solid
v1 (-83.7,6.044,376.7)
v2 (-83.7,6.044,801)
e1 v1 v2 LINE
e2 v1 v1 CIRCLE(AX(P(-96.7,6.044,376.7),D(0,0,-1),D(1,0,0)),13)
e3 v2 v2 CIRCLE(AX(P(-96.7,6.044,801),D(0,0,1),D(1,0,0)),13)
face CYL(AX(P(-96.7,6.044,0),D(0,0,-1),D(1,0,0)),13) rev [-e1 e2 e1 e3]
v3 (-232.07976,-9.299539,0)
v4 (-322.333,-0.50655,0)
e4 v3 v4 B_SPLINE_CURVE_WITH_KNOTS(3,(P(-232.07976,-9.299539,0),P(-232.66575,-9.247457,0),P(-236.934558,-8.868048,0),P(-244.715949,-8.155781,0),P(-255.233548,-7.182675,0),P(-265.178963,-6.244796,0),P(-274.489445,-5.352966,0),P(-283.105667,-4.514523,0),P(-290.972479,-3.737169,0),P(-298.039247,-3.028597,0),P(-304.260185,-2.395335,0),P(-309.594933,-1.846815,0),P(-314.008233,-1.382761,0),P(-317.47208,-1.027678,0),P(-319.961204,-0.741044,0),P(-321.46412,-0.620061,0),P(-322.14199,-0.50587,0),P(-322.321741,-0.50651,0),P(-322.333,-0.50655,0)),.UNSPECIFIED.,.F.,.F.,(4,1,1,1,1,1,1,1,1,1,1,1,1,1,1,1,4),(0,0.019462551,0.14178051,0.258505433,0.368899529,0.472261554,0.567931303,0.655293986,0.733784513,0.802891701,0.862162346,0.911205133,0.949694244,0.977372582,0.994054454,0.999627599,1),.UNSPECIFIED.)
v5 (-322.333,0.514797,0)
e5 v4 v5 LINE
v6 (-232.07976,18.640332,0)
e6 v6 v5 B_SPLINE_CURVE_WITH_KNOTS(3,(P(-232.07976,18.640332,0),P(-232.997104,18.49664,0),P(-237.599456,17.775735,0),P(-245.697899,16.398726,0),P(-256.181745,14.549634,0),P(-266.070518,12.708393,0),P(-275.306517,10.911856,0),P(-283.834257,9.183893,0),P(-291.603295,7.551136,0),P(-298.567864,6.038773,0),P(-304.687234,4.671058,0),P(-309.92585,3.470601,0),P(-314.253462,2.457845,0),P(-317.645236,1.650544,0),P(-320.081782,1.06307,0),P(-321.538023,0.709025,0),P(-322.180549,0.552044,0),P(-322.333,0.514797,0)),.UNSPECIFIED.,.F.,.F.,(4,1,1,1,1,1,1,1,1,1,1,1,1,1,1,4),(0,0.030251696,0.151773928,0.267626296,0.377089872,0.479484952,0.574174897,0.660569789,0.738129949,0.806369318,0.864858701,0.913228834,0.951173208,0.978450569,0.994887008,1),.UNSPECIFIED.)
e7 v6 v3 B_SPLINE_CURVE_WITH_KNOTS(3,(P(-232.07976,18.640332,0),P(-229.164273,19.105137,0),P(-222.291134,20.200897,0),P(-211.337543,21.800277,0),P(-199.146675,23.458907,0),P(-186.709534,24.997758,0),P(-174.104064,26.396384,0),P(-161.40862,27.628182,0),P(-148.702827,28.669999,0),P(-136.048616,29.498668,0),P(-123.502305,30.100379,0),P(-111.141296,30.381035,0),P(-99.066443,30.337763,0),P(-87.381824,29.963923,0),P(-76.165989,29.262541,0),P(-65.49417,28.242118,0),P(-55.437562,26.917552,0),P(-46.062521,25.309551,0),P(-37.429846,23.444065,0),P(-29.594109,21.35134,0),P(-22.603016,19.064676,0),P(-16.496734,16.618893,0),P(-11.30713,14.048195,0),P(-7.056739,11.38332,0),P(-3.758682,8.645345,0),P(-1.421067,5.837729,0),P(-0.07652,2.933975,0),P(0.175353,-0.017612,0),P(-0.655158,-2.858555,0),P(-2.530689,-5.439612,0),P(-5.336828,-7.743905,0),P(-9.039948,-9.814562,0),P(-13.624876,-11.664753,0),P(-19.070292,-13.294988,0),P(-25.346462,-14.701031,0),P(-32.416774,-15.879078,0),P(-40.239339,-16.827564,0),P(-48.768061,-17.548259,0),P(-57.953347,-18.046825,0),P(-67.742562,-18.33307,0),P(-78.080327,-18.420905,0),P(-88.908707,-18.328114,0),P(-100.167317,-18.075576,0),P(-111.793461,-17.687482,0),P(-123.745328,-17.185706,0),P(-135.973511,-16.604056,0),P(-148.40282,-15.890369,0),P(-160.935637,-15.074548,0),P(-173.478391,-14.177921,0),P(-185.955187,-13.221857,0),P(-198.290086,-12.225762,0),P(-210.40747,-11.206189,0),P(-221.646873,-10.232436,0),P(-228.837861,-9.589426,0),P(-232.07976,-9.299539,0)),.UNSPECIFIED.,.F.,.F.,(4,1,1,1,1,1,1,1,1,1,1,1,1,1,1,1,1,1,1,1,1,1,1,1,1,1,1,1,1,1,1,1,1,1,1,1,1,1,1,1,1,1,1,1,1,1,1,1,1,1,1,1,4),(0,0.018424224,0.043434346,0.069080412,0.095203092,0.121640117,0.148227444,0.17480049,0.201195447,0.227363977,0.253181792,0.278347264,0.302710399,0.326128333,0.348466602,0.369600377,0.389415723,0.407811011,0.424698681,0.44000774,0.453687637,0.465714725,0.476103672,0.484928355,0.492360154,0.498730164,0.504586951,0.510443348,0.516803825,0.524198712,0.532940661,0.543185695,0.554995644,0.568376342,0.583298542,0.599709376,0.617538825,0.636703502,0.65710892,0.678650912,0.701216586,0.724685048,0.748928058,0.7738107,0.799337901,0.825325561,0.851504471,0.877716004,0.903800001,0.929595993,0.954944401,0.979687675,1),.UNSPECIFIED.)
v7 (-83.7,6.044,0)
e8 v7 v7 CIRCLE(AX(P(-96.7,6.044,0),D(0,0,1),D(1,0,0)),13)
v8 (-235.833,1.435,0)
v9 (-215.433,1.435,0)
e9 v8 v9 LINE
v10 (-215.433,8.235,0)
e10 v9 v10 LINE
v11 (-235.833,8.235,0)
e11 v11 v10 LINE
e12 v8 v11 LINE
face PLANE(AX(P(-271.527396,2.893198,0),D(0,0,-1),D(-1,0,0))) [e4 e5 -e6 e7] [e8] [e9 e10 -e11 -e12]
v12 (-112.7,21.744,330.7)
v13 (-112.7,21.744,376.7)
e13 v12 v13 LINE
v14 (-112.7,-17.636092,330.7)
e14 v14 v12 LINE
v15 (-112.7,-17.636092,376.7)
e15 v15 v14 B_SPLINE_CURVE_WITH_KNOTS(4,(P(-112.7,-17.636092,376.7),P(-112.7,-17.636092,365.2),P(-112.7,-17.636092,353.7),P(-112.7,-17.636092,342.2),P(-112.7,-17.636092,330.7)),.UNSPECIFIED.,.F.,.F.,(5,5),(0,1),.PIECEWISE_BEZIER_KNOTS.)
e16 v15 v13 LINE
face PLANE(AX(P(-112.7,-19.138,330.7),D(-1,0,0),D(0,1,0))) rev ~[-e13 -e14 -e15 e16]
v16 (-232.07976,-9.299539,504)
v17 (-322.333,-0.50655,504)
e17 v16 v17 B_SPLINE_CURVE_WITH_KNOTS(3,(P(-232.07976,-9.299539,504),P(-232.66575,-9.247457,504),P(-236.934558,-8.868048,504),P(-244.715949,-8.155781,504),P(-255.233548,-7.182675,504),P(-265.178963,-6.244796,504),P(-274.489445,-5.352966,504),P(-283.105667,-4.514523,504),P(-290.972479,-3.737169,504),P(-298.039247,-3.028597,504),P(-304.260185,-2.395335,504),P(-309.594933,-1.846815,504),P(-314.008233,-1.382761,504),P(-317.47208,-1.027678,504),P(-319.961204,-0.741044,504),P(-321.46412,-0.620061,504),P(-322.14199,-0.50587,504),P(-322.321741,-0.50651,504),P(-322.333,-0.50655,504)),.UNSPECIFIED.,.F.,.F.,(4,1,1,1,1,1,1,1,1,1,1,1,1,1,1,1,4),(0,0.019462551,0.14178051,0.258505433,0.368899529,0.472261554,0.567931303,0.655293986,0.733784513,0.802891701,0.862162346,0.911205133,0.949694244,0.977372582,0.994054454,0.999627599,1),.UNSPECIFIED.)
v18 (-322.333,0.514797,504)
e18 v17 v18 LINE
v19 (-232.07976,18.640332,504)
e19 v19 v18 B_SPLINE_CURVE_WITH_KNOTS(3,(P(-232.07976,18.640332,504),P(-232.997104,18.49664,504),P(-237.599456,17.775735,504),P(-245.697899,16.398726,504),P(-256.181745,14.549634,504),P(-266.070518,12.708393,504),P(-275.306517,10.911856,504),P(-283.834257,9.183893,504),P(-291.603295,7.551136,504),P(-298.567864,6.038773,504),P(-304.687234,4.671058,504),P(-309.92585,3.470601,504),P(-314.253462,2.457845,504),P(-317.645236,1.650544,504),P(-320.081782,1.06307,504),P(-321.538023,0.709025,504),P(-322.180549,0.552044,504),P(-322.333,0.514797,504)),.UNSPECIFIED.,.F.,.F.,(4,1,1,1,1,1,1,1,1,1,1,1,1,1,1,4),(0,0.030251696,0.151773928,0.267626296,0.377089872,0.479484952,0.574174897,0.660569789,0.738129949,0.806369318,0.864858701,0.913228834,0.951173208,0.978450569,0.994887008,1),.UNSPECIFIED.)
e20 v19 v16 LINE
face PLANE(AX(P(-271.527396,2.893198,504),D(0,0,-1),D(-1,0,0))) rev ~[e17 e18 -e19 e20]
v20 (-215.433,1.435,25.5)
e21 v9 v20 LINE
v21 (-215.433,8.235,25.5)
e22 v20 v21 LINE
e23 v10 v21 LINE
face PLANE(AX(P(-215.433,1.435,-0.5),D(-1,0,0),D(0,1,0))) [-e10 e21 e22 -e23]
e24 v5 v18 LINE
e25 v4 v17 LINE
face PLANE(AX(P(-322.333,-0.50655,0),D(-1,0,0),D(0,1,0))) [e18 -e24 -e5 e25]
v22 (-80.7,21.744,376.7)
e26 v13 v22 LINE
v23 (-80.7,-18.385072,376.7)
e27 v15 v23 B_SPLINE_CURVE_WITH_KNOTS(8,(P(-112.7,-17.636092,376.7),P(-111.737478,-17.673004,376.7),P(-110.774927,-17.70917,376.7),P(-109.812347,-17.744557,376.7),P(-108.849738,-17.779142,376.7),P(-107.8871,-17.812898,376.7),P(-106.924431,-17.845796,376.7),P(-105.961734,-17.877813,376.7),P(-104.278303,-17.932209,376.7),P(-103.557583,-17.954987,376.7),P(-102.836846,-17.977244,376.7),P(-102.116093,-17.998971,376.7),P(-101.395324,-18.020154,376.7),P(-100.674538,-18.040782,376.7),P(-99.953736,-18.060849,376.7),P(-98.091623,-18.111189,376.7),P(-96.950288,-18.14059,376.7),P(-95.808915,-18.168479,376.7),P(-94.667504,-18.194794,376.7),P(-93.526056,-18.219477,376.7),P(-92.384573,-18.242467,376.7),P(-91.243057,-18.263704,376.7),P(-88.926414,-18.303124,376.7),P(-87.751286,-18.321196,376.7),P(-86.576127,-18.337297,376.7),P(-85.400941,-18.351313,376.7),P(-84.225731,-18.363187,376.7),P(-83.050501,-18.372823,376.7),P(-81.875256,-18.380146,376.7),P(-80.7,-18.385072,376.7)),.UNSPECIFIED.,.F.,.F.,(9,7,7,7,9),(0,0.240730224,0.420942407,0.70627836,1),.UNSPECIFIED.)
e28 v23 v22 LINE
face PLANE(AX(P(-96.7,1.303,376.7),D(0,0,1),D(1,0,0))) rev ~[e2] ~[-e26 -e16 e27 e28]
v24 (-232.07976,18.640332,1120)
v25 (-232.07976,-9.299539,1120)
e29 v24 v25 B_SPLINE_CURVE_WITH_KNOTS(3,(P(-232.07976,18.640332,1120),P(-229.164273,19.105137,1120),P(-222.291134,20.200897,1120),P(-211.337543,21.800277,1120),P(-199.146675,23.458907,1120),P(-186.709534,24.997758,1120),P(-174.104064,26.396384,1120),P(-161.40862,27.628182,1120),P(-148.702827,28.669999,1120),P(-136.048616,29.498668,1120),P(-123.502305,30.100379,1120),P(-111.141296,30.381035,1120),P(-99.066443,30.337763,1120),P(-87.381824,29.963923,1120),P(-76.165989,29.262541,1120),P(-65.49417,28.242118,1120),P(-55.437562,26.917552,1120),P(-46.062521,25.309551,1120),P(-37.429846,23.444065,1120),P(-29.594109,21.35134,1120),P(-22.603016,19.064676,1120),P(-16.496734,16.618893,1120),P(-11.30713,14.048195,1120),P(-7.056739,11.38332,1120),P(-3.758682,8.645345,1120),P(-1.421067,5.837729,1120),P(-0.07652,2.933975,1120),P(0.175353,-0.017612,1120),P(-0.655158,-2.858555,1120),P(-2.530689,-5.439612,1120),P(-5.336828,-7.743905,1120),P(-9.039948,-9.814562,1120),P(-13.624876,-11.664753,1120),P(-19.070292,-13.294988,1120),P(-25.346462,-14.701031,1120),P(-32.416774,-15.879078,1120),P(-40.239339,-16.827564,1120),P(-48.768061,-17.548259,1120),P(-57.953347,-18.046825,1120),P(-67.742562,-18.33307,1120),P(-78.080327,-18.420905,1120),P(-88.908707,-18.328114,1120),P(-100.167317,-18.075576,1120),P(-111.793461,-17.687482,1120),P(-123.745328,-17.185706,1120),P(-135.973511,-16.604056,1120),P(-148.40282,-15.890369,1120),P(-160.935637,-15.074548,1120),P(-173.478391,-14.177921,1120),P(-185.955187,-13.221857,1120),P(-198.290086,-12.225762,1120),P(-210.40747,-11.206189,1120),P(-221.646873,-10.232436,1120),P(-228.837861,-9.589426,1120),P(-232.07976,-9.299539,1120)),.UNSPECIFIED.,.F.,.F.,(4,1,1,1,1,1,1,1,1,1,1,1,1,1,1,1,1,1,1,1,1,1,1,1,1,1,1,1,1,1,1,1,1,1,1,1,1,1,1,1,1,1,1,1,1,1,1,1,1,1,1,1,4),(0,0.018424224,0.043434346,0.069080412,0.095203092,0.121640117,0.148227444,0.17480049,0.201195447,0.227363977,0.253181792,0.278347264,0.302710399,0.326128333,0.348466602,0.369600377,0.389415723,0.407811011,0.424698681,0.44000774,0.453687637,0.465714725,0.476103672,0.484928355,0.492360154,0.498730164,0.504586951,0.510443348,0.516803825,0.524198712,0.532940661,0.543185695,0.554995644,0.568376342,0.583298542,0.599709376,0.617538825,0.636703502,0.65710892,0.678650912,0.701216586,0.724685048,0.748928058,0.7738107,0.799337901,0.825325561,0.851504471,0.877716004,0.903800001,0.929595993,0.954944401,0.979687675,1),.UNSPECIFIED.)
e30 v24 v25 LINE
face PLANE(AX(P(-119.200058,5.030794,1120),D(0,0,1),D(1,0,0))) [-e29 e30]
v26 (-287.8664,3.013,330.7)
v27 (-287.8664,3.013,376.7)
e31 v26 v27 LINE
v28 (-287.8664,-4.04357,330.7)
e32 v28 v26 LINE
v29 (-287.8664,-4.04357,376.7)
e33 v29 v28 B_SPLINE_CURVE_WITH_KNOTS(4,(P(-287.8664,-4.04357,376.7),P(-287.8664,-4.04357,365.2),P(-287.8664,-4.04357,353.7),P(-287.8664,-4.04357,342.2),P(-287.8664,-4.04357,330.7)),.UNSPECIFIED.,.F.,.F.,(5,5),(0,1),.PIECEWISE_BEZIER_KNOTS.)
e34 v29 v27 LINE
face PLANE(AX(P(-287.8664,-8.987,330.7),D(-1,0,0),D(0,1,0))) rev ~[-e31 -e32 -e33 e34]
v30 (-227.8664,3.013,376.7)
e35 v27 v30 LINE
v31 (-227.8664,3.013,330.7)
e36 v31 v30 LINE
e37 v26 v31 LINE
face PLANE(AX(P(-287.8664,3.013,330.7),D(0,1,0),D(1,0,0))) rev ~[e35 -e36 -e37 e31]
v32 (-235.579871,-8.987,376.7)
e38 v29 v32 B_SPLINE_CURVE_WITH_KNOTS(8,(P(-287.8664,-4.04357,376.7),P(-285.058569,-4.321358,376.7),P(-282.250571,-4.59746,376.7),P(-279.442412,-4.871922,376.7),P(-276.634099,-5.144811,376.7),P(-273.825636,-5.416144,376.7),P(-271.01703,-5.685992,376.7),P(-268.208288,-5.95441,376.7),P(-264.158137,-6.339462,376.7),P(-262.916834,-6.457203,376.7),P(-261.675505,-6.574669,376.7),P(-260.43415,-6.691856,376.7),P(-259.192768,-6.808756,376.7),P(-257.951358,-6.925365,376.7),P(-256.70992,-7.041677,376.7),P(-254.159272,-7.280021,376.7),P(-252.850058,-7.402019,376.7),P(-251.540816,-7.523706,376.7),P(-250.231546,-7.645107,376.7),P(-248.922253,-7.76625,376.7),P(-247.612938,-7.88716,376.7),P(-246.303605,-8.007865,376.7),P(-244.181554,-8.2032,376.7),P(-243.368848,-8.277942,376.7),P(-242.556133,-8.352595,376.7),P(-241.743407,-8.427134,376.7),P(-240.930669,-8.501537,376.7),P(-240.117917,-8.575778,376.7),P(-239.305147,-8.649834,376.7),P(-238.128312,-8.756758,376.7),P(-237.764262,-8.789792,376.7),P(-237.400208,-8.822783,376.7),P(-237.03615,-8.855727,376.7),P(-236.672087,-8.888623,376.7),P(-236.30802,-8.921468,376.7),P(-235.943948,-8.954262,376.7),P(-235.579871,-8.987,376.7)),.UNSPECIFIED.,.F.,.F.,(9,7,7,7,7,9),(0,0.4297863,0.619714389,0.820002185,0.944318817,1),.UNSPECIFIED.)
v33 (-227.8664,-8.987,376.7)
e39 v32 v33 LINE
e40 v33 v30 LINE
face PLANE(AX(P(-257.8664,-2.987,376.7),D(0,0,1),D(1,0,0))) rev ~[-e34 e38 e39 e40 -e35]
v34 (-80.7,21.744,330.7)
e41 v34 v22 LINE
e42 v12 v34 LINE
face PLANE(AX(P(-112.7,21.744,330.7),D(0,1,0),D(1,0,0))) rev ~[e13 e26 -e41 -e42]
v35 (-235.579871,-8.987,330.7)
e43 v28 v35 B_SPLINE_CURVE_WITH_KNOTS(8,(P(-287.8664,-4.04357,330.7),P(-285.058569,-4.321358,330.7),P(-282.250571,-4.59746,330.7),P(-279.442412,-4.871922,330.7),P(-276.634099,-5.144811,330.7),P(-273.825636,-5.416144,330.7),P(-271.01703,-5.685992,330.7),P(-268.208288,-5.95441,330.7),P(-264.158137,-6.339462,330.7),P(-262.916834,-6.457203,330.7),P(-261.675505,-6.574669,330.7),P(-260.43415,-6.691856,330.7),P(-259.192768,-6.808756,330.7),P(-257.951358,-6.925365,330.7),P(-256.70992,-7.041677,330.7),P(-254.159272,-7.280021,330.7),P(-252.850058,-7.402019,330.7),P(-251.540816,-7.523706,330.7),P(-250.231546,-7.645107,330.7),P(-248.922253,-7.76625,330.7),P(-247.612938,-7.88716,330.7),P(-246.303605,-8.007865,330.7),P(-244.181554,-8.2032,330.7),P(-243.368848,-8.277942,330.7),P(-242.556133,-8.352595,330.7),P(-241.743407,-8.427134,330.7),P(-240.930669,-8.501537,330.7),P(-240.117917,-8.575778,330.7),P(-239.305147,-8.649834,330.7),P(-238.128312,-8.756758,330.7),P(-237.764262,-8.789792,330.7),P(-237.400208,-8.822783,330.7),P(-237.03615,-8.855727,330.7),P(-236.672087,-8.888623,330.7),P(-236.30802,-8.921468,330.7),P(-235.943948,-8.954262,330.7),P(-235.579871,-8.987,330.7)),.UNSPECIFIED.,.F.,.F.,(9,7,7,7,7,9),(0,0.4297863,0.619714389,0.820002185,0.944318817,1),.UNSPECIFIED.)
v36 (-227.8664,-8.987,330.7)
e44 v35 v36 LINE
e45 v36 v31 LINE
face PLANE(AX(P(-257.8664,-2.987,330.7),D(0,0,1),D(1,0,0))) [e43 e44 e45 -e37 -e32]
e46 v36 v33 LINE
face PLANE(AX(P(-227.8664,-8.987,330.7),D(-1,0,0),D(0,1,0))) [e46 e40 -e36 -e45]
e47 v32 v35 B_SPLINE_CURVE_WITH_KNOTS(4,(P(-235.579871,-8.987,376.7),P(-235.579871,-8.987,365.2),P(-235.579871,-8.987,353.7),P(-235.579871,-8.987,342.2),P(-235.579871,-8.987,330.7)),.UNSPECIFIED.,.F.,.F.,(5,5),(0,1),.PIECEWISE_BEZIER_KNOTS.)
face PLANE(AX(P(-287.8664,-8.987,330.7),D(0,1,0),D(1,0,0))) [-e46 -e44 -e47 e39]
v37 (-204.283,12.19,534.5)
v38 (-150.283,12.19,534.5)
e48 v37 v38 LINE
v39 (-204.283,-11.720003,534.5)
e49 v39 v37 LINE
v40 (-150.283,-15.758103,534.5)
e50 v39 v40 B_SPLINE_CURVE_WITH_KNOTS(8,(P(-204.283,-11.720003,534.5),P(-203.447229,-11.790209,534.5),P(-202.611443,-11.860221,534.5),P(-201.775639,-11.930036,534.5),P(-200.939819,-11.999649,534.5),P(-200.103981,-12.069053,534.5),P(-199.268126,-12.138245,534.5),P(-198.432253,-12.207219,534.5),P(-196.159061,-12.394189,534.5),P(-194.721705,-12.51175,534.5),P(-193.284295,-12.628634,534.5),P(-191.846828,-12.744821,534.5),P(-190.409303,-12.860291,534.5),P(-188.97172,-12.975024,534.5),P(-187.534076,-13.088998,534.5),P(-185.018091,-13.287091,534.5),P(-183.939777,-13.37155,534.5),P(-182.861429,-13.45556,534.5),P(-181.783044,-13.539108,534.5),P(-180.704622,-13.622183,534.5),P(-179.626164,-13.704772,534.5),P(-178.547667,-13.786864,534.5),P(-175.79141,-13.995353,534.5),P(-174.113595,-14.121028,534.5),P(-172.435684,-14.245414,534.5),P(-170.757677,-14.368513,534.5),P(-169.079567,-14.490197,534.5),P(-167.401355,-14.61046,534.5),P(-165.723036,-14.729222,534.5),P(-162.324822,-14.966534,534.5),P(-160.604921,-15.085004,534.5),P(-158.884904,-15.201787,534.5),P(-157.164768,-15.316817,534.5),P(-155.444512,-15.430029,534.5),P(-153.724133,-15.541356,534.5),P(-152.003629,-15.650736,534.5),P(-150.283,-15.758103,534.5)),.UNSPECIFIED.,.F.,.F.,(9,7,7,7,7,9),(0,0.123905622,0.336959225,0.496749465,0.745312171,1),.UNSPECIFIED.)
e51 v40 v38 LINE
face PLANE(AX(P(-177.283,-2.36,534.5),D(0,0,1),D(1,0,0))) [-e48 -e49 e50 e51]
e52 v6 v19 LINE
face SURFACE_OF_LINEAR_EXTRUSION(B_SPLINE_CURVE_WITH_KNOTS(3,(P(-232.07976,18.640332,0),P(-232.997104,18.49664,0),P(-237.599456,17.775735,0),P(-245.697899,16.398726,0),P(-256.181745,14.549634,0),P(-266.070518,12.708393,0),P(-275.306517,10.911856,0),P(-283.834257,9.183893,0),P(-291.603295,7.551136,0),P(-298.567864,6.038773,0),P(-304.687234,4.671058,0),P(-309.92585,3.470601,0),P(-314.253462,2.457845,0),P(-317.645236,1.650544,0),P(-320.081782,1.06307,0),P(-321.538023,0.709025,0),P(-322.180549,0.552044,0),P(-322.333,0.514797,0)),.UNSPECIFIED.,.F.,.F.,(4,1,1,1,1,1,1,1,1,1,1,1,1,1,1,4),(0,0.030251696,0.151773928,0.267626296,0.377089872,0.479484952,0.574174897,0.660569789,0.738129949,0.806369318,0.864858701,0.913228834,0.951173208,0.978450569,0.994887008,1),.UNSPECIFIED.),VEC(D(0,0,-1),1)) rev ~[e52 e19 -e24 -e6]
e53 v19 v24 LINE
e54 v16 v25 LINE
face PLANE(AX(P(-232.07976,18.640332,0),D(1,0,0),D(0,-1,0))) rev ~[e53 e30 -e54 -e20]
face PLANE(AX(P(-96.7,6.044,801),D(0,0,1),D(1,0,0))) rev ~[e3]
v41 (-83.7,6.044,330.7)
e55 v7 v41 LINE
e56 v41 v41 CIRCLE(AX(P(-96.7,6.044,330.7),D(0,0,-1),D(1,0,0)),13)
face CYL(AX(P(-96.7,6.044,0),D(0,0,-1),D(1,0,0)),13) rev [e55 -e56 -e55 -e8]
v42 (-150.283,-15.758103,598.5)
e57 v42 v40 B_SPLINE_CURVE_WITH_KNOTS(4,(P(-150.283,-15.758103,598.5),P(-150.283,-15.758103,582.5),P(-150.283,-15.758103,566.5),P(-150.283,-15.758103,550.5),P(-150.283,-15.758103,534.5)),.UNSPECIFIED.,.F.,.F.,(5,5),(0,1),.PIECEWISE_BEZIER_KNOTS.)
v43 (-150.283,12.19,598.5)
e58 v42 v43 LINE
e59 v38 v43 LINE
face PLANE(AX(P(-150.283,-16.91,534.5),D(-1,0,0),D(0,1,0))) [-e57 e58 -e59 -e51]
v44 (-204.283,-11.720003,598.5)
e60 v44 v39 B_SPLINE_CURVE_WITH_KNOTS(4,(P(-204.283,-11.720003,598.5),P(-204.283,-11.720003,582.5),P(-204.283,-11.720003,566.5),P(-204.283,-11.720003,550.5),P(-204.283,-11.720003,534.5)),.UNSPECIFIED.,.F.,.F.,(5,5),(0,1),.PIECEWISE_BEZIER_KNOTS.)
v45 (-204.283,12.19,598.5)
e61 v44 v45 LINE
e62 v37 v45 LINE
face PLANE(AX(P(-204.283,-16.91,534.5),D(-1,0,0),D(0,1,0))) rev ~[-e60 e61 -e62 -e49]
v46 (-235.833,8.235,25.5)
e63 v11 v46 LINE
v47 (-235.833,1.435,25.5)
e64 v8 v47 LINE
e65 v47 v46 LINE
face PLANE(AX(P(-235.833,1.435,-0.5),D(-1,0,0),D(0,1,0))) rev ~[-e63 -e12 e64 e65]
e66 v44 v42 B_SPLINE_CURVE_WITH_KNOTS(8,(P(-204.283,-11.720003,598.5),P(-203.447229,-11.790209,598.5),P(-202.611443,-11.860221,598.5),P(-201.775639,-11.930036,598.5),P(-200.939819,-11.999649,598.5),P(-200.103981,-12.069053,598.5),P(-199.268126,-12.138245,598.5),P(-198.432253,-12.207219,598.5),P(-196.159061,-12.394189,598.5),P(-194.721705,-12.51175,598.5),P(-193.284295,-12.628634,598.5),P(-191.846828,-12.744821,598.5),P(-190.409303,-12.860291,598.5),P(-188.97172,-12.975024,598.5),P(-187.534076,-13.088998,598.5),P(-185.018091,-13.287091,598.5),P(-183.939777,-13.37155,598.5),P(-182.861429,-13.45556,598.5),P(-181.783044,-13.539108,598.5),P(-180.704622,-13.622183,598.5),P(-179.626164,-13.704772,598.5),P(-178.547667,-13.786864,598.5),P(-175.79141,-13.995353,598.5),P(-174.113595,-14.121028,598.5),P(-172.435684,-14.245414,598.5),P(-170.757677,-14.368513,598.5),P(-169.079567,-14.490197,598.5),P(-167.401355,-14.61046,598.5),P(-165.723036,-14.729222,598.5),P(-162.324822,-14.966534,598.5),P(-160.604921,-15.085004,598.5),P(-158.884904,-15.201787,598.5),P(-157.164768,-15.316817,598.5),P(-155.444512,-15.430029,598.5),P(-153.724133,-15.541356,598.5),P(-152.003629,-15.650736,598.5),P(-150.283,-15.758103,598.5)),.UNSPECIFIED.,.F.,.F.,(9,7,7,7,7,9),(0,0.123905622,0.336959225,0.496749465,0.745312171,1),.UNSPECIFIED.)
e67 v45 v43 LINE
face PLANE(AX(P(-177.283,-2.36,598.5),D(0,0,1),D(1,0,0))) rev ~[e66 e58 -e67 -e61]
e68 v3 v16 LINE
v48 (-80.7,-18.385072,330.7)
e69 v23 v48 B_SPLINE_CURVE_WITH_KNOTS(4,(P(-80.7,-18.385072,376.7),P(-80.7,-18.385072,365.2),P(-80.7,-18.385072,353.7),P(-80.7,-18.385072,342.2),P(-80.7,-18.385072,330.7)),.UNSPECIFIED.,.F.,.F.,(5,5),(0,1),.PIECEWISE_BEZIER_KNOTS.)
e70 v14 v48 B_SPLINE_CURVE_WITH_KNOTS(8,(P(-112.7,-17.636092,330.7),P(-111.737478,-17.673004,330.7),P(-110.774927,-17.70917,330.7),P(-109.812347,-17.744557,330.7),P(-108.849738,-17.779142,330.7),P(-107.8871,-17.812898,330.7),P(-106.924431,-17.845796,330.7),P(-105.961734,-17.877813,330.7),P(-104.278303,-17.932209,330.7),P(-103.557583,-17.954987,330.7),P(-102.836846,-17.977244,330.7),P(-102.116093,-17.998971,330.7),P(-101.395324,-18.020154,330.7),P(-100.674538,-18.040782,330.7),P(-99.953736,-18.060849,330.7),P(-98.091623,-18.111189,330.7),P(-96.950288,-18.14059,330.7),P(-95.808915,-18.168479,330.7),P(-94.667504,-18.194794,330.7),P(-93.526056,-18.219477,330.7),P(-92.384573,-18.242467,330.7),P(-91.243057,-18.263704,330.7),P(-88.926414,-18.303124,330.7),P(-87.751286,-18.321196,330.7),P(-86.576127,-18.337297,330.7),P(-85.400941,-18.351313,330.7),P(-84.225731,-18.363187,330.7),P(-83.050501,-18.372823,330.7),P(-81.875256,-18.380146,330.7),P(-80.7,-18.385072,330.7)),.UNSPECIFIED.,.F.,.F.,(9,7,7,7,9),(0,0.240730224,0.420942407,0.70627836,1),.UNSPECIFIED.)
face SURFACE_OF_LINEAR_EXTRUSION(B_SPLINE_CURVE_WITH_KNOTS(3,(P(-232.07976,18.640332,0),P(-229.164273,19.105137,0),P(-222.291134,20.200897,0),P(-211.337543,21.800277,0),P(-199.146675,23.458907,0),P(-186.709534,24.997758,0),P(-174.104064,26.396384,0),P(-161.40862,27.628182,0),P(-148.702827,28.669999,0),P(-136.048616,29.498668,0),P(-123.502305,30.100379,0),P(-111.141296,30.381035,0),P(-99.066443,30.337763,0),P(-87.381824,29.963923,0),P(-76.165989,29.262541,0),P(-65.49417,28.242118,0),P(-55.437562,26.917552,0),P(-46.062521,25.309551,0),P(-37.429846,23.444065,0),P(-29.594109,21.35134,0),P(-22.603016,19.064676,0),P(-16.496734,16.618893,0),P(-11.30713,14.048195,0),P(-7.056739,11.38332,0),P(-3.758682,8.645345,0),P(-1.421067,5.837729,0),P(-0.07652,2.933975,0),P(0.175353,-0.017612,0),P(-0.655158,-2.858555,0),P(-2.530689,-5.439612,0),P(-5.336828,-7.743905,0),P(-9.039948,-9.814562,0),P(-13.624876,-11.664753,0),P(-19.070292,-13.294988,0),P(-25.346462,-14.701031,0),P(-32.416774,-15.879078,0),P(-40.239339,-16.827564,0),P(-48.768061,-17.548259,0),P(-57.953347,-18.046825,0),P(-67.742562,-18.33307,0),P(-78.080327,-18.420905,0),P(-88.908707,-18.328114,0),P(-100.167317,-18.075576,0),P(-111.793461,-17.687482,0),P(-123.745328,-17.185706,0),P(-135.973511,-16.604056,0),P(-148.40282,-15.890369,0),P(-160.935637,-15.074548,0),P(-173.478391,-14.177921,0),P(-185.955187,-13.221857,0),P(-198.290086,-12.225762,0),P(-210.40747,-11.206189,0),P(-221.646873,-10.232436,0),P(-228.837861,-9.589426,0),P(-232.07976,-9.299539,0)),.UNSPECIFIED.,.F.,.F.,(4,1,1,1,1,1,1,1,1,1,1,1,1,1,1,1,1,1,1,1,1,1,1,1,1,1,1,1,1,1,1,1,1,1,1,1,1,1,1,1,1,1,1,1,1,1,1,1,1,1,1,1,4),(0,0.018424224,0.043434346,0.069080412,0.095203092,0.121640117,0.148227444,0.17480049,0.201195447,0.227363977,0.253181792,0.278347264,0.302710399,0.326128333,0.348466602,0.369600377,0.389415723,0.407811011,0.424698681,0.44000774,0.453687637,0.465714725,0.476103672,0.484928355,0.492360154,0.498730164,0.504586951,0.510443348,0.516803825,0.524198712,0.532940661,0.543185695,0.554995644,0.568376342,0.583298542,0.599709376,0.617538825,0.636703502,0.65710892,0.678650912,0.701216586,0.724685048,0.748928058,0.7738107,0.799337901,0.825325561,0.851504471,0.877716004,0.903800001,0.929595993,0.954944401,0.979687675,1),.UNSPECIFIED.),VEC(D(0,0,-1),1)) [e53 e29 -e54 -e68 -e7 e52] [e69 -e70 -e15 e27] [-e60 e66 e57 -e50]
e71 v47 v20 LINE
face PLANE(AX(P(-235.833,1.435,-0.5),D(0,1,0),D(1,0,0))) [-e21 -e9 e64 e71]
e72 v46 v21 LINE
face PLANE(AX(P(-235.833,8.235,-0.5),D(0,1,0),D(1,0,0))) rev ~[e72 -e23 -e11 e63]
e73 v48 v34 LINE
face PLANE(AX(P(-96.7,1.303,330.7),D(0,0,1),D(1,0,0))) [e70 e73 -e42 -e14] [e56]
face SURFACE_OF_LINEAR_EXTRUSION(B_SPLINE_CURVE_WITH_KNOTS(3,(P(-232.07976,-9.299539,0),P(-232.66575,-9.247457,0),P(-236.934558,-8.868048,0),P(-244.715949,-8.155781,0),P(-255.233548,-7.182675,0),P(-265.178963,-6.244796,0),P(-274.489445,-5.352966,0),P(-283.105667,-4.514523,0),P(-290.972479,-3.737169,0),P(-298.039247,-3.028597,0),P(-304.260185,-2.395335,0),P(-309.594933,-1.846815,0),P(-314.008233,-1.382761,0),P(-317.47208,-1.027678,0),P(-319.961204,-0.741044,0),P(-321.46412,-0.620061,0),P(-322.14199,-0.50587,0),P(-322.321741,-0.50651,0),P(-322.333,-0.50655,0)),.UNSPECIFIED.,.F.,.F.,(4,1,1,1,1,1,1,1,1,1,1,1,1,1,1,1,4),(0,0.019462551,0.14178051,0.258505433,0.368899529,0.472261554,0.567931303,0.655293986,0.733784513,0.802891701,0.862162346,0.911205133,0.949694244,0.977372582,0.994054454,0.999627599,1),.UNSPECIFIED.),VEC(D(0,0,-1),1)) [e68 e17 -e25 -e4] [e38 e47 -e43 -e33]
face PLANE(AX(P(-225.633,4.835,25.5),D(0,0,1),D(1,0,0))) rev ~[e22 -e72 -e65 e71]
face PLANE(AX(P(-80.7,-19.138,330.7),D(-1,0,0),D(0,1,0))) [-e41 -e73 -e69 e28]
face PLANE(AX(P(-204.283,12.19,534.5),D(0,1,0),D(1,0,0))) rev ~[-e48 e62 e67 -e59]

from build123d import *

# Parameters (mm, degrees)
BOSS_EXTRUDE1_DEPTH = 1120
BOSS_EXTRUDE2_DEPTH = 504
SKETCH3_R           = 13
CUT_EXTRUDE1_DEPTH  = 801
SKETCH4_W           = 32
SKETCH4_H           = 40.882
CUT_EXTRUDE2_DEPTH  = 46
SKETCH5_W           = 60
SKETCH5_H           = 12
CUT_EXTRUDE3_DEPTH  = 46
SKETCH6_W           = 54
SKETCH6_H           = 29.1
CUT_EXTRUDE4_DEPTH  = 64
SKETCH7_W           = 20.4
SKETCH7_H           = 6.8
CUT_EXTRUDE5_DEPTH  = 26


with BuildPart() as part:
    # Sketch1 → Boss-Extrude1 (new body)
    with BuildSketch(Plane.XY):
        with BuildLine():
            Line((-232.07976, 18.640331755), (-232.07976, -9.299539429))
            add(Edge.make_bspline(
                [(-232.07976, 18.640331755), (-229.164273263, 19.105137392), (-222.291133752, 20.200897474), (-211.337542784, 21.800276655), (-199.146674743, 23.458907068), (-186.709533826, 24.99775787), (-174.104063941, 26.396384265), (-161.408619673, 27.628181699), (-148.702826871, 28.669998803), (-136.048616227, 29.498668375), (-123.502304929, 30.100378699), (-111.141296499, 30.381034684), (-99.066442851, 30.337763188), (-87.381824011, 29.96392256), (-76.165988678, 29.262541202), (-65.494170353, 28.242118376), (-55.437562328, 26.917551706), (-46.062520993, 25.309550624), (-37.429846456, 23.444065126), (-29.594109363, 21.3513396), (-22.603015821, 19.064676337), (-16.496733591, 16.618893003), (-11.307130205, 14.048195179), (-7.056738632, 11.383320116), (-3.758682454, 8.645345207), (-1.421067217, 5.837729222), (-0.076519927, 2.93397469), (0.175352503, -0.017611891), (-0.655158047, -2.858555013), (-2.530689177, -5.439611815), (-5.336827593, -7.743904666), (-9.03994776, -9.814562437), (-13.624875961, -11.664753347), (-19.070291538, -13.294987869), (-25.346462309, -14.70103051), (-32.416774291, -15.879078453), (-40.239338685, -16.827563542), (-48.768060709, -17.548259209), (-57.953346605, -18.046825288), (-67.742561923, -18.333070043), (-78.080327008, -18.420905027), (-88.908707336, -18.328114372), (-100.167316867, -18.075575791), (-111.793460515, -17.687481617), (-123.745328455, -17.185705506), (-135.973510615, -16.604056476), (-148.402819763, -15.890368868), (-160.93563744, -15.074548453), (-173.478390843, -14.17792148), (-185.955186825, -13.221857076), (-198.290086365, -12.225761595), (-210.407470499, -11.20618891), (-221.646872664, -10.232436467), (-228.837861155, -9.589426373), (-232.07976, -9.299539429)],
                knots=[0, 0, 0, 0, 0.018424224, 0.043434346, 0.069080412, 0.095203092, 0.121640117, 0.148227444, 0.17480049, 0.201195447, 0.227363977, 0.253181792, 0.278347264, 0.302710399, 0.326128333, 0.348466602, 0.369600377, 0.389415723, 0.407811011, 0.424698681, 0.44000774, 0.453687637, 0.465714725, 0.476103672, 0.484928355, 0.492360154, 0.498730164, 0.504586951, 0.510443348, 0.516803825, 0.524198712, 0.532940661, 0.543185695, 0.554995644, 0.568376342, 0.583298542, 0.599709376, 0.617538825, 0.636703502, 0.65710892, 0.678650912, 0.701216586, 0.724685048, 0.748928058, 0.7738107, 0.799337901, 0.825325561, 0.851504471, 0.877716004, 0.903800001, 0.929595993, 0.954944401, 0.979687675, 1, 1, 1, 1], degree=3))
        make_face()
    extrude(amount=BOSS_EXTRUDE1_DEPTH)

    # Sketch2 → Boss-Extrude2 (add)
    with BuildSketch(Plane.XY):
        with BuildLine():
            Line((-232.07976, 18.640331755), (-232.07976, -9.299539429))
            add(Edge.make_bspline(
                [(-232.07976, -9.299539429), (-232.665749528, -9.247457079), (-236.934557579, -8.868048329), (-244.715948926, -8.155780655), (-255.233547628, -7.182675415), (-265.178963193, -6.244796096), (-274.489444659, -5.35296602), (-283.105666868, -4.514522896), (-290.972478934, -3.737169374), (-298.039247191, -3.028597089), (-304.260184667, -2.39533485), (-309.594932862, -1.846814612), (-314.008232694, -1.38276071), (-317.472079994, -1.027677658), (-319.961203892, -0.741044399), (-321.464120443, -0.620061141), (-322.14198951, -0.505870173), (-322.321741193, -0.506509982), (-322.333, -0.506550056)],
                knots=[0, 0, 0, 0, 0.019462551, 0.14178051, 0.258505433, 0.368899529, 0.472261554, 0.567931303, 0.655293986, 0.733784513, 0.802891701, 0.862162346, 0.911205133, 0.949694244, 0.977372582, 0.994054454, 0.999627599, 1, 1, 1, 1], degree=3))
            Line((-322.333, -0.506550056), (-322.333, 0.514797488))
            add(Edge.make_bspline(
                [(-232.07976, 18.640331755), (-232.997104276, 18.496640375), (-237.59945591, 17.775735177), (-245.697898879, 16.398726282), (-256.18174484, 14.549633525), (-266.070518156, 12.708392515), (-275.306517101, 10.911856103), (-283.834257123, 9.183893288), (-291.603294753, 7.551136168), (-298.567863892, 6.038773121), (-304.687234469, 4.671058189), (-309.925850109, 3.470601356), (-314.253461721, 2.457844833), (-317.645235976, 1.650544318), (-320.081782459, 1.063070488), (-321.538022536, 0.709024901), (-322.180548986, 0.552044036), (-322.333, 0.514797488)],
                knots=[0, 0, 0, 0, 0.030251696, 0.151773928, 0.267626296, 0.377089872, 0.479484952, 0.574174897, 0.660569789, 0.738129949, 0.806369318, 0.864858701, 0.913228834, 0.951173208, 0.978450569, 0.994887008, 1, 1, 1, 1], degree=3))
        make_face()
    extrude(amount=BOSS_EXTRUDE2_DEPTH)

    # Sketch3 → Cut-Extrude1 (cut)
    with BuildSketch(Plane.XY):
        with Locations((-96.7, 6.044)):
            Circle(SKETCH3_R)
    extrude(amount=CUT_EXTRUDE1_DEPTH, mode=Mode.SUBTRACT)

    # Sketch4 → Cut-Extrude2 (cut)
    with BuildSketch(Plane.XY.offset(330.7)):
        with Locations((-96.7, 1.303)):
            Rectangle(SKETCH4_W, SKETCH4_H)
    extrude(amount=CUT_EXTRUDE2_DEPTH, mode=Mode.SUBTRACT)

    # Sketch5 → Cut-Extrude3 (cut)
    with BuildSketch(Plane.XY.offset(330.7)):
        with Locations((-257.8664, -2.987)):
            Rectangle(SKETCH5_W, SKETCH5_H)
    extrude(amount=CUT_EXTRUDE3_DEPTH, mode=Mode.SUBTRACT)

    # Sketch6 → Cut-Extrude4 (cut)
    with BuildSketch(Plane.XY.offset(534.5)):
        with Locations((-177.283, -2.36)):
            Rectangle(SKETCH6_W, SKETCH6_H)
    extrude(amount=CUT_EXTRUDE4_DEPTH, mode=Mode.SUBTRACT)

    # Sketch7 → Cut-Extrude5 (cut)
    with BuildSketch(Plane.XY.offset(-0.5)):
        with Locations((-225.633, 4.835)):
            Rectangle(SKETCH7_W, SKETCH7_H)
    extrude(amount=CUT_EXTRUDE5_DEPTH, mode=Mode.SUBTRACT)


solid = part.part
